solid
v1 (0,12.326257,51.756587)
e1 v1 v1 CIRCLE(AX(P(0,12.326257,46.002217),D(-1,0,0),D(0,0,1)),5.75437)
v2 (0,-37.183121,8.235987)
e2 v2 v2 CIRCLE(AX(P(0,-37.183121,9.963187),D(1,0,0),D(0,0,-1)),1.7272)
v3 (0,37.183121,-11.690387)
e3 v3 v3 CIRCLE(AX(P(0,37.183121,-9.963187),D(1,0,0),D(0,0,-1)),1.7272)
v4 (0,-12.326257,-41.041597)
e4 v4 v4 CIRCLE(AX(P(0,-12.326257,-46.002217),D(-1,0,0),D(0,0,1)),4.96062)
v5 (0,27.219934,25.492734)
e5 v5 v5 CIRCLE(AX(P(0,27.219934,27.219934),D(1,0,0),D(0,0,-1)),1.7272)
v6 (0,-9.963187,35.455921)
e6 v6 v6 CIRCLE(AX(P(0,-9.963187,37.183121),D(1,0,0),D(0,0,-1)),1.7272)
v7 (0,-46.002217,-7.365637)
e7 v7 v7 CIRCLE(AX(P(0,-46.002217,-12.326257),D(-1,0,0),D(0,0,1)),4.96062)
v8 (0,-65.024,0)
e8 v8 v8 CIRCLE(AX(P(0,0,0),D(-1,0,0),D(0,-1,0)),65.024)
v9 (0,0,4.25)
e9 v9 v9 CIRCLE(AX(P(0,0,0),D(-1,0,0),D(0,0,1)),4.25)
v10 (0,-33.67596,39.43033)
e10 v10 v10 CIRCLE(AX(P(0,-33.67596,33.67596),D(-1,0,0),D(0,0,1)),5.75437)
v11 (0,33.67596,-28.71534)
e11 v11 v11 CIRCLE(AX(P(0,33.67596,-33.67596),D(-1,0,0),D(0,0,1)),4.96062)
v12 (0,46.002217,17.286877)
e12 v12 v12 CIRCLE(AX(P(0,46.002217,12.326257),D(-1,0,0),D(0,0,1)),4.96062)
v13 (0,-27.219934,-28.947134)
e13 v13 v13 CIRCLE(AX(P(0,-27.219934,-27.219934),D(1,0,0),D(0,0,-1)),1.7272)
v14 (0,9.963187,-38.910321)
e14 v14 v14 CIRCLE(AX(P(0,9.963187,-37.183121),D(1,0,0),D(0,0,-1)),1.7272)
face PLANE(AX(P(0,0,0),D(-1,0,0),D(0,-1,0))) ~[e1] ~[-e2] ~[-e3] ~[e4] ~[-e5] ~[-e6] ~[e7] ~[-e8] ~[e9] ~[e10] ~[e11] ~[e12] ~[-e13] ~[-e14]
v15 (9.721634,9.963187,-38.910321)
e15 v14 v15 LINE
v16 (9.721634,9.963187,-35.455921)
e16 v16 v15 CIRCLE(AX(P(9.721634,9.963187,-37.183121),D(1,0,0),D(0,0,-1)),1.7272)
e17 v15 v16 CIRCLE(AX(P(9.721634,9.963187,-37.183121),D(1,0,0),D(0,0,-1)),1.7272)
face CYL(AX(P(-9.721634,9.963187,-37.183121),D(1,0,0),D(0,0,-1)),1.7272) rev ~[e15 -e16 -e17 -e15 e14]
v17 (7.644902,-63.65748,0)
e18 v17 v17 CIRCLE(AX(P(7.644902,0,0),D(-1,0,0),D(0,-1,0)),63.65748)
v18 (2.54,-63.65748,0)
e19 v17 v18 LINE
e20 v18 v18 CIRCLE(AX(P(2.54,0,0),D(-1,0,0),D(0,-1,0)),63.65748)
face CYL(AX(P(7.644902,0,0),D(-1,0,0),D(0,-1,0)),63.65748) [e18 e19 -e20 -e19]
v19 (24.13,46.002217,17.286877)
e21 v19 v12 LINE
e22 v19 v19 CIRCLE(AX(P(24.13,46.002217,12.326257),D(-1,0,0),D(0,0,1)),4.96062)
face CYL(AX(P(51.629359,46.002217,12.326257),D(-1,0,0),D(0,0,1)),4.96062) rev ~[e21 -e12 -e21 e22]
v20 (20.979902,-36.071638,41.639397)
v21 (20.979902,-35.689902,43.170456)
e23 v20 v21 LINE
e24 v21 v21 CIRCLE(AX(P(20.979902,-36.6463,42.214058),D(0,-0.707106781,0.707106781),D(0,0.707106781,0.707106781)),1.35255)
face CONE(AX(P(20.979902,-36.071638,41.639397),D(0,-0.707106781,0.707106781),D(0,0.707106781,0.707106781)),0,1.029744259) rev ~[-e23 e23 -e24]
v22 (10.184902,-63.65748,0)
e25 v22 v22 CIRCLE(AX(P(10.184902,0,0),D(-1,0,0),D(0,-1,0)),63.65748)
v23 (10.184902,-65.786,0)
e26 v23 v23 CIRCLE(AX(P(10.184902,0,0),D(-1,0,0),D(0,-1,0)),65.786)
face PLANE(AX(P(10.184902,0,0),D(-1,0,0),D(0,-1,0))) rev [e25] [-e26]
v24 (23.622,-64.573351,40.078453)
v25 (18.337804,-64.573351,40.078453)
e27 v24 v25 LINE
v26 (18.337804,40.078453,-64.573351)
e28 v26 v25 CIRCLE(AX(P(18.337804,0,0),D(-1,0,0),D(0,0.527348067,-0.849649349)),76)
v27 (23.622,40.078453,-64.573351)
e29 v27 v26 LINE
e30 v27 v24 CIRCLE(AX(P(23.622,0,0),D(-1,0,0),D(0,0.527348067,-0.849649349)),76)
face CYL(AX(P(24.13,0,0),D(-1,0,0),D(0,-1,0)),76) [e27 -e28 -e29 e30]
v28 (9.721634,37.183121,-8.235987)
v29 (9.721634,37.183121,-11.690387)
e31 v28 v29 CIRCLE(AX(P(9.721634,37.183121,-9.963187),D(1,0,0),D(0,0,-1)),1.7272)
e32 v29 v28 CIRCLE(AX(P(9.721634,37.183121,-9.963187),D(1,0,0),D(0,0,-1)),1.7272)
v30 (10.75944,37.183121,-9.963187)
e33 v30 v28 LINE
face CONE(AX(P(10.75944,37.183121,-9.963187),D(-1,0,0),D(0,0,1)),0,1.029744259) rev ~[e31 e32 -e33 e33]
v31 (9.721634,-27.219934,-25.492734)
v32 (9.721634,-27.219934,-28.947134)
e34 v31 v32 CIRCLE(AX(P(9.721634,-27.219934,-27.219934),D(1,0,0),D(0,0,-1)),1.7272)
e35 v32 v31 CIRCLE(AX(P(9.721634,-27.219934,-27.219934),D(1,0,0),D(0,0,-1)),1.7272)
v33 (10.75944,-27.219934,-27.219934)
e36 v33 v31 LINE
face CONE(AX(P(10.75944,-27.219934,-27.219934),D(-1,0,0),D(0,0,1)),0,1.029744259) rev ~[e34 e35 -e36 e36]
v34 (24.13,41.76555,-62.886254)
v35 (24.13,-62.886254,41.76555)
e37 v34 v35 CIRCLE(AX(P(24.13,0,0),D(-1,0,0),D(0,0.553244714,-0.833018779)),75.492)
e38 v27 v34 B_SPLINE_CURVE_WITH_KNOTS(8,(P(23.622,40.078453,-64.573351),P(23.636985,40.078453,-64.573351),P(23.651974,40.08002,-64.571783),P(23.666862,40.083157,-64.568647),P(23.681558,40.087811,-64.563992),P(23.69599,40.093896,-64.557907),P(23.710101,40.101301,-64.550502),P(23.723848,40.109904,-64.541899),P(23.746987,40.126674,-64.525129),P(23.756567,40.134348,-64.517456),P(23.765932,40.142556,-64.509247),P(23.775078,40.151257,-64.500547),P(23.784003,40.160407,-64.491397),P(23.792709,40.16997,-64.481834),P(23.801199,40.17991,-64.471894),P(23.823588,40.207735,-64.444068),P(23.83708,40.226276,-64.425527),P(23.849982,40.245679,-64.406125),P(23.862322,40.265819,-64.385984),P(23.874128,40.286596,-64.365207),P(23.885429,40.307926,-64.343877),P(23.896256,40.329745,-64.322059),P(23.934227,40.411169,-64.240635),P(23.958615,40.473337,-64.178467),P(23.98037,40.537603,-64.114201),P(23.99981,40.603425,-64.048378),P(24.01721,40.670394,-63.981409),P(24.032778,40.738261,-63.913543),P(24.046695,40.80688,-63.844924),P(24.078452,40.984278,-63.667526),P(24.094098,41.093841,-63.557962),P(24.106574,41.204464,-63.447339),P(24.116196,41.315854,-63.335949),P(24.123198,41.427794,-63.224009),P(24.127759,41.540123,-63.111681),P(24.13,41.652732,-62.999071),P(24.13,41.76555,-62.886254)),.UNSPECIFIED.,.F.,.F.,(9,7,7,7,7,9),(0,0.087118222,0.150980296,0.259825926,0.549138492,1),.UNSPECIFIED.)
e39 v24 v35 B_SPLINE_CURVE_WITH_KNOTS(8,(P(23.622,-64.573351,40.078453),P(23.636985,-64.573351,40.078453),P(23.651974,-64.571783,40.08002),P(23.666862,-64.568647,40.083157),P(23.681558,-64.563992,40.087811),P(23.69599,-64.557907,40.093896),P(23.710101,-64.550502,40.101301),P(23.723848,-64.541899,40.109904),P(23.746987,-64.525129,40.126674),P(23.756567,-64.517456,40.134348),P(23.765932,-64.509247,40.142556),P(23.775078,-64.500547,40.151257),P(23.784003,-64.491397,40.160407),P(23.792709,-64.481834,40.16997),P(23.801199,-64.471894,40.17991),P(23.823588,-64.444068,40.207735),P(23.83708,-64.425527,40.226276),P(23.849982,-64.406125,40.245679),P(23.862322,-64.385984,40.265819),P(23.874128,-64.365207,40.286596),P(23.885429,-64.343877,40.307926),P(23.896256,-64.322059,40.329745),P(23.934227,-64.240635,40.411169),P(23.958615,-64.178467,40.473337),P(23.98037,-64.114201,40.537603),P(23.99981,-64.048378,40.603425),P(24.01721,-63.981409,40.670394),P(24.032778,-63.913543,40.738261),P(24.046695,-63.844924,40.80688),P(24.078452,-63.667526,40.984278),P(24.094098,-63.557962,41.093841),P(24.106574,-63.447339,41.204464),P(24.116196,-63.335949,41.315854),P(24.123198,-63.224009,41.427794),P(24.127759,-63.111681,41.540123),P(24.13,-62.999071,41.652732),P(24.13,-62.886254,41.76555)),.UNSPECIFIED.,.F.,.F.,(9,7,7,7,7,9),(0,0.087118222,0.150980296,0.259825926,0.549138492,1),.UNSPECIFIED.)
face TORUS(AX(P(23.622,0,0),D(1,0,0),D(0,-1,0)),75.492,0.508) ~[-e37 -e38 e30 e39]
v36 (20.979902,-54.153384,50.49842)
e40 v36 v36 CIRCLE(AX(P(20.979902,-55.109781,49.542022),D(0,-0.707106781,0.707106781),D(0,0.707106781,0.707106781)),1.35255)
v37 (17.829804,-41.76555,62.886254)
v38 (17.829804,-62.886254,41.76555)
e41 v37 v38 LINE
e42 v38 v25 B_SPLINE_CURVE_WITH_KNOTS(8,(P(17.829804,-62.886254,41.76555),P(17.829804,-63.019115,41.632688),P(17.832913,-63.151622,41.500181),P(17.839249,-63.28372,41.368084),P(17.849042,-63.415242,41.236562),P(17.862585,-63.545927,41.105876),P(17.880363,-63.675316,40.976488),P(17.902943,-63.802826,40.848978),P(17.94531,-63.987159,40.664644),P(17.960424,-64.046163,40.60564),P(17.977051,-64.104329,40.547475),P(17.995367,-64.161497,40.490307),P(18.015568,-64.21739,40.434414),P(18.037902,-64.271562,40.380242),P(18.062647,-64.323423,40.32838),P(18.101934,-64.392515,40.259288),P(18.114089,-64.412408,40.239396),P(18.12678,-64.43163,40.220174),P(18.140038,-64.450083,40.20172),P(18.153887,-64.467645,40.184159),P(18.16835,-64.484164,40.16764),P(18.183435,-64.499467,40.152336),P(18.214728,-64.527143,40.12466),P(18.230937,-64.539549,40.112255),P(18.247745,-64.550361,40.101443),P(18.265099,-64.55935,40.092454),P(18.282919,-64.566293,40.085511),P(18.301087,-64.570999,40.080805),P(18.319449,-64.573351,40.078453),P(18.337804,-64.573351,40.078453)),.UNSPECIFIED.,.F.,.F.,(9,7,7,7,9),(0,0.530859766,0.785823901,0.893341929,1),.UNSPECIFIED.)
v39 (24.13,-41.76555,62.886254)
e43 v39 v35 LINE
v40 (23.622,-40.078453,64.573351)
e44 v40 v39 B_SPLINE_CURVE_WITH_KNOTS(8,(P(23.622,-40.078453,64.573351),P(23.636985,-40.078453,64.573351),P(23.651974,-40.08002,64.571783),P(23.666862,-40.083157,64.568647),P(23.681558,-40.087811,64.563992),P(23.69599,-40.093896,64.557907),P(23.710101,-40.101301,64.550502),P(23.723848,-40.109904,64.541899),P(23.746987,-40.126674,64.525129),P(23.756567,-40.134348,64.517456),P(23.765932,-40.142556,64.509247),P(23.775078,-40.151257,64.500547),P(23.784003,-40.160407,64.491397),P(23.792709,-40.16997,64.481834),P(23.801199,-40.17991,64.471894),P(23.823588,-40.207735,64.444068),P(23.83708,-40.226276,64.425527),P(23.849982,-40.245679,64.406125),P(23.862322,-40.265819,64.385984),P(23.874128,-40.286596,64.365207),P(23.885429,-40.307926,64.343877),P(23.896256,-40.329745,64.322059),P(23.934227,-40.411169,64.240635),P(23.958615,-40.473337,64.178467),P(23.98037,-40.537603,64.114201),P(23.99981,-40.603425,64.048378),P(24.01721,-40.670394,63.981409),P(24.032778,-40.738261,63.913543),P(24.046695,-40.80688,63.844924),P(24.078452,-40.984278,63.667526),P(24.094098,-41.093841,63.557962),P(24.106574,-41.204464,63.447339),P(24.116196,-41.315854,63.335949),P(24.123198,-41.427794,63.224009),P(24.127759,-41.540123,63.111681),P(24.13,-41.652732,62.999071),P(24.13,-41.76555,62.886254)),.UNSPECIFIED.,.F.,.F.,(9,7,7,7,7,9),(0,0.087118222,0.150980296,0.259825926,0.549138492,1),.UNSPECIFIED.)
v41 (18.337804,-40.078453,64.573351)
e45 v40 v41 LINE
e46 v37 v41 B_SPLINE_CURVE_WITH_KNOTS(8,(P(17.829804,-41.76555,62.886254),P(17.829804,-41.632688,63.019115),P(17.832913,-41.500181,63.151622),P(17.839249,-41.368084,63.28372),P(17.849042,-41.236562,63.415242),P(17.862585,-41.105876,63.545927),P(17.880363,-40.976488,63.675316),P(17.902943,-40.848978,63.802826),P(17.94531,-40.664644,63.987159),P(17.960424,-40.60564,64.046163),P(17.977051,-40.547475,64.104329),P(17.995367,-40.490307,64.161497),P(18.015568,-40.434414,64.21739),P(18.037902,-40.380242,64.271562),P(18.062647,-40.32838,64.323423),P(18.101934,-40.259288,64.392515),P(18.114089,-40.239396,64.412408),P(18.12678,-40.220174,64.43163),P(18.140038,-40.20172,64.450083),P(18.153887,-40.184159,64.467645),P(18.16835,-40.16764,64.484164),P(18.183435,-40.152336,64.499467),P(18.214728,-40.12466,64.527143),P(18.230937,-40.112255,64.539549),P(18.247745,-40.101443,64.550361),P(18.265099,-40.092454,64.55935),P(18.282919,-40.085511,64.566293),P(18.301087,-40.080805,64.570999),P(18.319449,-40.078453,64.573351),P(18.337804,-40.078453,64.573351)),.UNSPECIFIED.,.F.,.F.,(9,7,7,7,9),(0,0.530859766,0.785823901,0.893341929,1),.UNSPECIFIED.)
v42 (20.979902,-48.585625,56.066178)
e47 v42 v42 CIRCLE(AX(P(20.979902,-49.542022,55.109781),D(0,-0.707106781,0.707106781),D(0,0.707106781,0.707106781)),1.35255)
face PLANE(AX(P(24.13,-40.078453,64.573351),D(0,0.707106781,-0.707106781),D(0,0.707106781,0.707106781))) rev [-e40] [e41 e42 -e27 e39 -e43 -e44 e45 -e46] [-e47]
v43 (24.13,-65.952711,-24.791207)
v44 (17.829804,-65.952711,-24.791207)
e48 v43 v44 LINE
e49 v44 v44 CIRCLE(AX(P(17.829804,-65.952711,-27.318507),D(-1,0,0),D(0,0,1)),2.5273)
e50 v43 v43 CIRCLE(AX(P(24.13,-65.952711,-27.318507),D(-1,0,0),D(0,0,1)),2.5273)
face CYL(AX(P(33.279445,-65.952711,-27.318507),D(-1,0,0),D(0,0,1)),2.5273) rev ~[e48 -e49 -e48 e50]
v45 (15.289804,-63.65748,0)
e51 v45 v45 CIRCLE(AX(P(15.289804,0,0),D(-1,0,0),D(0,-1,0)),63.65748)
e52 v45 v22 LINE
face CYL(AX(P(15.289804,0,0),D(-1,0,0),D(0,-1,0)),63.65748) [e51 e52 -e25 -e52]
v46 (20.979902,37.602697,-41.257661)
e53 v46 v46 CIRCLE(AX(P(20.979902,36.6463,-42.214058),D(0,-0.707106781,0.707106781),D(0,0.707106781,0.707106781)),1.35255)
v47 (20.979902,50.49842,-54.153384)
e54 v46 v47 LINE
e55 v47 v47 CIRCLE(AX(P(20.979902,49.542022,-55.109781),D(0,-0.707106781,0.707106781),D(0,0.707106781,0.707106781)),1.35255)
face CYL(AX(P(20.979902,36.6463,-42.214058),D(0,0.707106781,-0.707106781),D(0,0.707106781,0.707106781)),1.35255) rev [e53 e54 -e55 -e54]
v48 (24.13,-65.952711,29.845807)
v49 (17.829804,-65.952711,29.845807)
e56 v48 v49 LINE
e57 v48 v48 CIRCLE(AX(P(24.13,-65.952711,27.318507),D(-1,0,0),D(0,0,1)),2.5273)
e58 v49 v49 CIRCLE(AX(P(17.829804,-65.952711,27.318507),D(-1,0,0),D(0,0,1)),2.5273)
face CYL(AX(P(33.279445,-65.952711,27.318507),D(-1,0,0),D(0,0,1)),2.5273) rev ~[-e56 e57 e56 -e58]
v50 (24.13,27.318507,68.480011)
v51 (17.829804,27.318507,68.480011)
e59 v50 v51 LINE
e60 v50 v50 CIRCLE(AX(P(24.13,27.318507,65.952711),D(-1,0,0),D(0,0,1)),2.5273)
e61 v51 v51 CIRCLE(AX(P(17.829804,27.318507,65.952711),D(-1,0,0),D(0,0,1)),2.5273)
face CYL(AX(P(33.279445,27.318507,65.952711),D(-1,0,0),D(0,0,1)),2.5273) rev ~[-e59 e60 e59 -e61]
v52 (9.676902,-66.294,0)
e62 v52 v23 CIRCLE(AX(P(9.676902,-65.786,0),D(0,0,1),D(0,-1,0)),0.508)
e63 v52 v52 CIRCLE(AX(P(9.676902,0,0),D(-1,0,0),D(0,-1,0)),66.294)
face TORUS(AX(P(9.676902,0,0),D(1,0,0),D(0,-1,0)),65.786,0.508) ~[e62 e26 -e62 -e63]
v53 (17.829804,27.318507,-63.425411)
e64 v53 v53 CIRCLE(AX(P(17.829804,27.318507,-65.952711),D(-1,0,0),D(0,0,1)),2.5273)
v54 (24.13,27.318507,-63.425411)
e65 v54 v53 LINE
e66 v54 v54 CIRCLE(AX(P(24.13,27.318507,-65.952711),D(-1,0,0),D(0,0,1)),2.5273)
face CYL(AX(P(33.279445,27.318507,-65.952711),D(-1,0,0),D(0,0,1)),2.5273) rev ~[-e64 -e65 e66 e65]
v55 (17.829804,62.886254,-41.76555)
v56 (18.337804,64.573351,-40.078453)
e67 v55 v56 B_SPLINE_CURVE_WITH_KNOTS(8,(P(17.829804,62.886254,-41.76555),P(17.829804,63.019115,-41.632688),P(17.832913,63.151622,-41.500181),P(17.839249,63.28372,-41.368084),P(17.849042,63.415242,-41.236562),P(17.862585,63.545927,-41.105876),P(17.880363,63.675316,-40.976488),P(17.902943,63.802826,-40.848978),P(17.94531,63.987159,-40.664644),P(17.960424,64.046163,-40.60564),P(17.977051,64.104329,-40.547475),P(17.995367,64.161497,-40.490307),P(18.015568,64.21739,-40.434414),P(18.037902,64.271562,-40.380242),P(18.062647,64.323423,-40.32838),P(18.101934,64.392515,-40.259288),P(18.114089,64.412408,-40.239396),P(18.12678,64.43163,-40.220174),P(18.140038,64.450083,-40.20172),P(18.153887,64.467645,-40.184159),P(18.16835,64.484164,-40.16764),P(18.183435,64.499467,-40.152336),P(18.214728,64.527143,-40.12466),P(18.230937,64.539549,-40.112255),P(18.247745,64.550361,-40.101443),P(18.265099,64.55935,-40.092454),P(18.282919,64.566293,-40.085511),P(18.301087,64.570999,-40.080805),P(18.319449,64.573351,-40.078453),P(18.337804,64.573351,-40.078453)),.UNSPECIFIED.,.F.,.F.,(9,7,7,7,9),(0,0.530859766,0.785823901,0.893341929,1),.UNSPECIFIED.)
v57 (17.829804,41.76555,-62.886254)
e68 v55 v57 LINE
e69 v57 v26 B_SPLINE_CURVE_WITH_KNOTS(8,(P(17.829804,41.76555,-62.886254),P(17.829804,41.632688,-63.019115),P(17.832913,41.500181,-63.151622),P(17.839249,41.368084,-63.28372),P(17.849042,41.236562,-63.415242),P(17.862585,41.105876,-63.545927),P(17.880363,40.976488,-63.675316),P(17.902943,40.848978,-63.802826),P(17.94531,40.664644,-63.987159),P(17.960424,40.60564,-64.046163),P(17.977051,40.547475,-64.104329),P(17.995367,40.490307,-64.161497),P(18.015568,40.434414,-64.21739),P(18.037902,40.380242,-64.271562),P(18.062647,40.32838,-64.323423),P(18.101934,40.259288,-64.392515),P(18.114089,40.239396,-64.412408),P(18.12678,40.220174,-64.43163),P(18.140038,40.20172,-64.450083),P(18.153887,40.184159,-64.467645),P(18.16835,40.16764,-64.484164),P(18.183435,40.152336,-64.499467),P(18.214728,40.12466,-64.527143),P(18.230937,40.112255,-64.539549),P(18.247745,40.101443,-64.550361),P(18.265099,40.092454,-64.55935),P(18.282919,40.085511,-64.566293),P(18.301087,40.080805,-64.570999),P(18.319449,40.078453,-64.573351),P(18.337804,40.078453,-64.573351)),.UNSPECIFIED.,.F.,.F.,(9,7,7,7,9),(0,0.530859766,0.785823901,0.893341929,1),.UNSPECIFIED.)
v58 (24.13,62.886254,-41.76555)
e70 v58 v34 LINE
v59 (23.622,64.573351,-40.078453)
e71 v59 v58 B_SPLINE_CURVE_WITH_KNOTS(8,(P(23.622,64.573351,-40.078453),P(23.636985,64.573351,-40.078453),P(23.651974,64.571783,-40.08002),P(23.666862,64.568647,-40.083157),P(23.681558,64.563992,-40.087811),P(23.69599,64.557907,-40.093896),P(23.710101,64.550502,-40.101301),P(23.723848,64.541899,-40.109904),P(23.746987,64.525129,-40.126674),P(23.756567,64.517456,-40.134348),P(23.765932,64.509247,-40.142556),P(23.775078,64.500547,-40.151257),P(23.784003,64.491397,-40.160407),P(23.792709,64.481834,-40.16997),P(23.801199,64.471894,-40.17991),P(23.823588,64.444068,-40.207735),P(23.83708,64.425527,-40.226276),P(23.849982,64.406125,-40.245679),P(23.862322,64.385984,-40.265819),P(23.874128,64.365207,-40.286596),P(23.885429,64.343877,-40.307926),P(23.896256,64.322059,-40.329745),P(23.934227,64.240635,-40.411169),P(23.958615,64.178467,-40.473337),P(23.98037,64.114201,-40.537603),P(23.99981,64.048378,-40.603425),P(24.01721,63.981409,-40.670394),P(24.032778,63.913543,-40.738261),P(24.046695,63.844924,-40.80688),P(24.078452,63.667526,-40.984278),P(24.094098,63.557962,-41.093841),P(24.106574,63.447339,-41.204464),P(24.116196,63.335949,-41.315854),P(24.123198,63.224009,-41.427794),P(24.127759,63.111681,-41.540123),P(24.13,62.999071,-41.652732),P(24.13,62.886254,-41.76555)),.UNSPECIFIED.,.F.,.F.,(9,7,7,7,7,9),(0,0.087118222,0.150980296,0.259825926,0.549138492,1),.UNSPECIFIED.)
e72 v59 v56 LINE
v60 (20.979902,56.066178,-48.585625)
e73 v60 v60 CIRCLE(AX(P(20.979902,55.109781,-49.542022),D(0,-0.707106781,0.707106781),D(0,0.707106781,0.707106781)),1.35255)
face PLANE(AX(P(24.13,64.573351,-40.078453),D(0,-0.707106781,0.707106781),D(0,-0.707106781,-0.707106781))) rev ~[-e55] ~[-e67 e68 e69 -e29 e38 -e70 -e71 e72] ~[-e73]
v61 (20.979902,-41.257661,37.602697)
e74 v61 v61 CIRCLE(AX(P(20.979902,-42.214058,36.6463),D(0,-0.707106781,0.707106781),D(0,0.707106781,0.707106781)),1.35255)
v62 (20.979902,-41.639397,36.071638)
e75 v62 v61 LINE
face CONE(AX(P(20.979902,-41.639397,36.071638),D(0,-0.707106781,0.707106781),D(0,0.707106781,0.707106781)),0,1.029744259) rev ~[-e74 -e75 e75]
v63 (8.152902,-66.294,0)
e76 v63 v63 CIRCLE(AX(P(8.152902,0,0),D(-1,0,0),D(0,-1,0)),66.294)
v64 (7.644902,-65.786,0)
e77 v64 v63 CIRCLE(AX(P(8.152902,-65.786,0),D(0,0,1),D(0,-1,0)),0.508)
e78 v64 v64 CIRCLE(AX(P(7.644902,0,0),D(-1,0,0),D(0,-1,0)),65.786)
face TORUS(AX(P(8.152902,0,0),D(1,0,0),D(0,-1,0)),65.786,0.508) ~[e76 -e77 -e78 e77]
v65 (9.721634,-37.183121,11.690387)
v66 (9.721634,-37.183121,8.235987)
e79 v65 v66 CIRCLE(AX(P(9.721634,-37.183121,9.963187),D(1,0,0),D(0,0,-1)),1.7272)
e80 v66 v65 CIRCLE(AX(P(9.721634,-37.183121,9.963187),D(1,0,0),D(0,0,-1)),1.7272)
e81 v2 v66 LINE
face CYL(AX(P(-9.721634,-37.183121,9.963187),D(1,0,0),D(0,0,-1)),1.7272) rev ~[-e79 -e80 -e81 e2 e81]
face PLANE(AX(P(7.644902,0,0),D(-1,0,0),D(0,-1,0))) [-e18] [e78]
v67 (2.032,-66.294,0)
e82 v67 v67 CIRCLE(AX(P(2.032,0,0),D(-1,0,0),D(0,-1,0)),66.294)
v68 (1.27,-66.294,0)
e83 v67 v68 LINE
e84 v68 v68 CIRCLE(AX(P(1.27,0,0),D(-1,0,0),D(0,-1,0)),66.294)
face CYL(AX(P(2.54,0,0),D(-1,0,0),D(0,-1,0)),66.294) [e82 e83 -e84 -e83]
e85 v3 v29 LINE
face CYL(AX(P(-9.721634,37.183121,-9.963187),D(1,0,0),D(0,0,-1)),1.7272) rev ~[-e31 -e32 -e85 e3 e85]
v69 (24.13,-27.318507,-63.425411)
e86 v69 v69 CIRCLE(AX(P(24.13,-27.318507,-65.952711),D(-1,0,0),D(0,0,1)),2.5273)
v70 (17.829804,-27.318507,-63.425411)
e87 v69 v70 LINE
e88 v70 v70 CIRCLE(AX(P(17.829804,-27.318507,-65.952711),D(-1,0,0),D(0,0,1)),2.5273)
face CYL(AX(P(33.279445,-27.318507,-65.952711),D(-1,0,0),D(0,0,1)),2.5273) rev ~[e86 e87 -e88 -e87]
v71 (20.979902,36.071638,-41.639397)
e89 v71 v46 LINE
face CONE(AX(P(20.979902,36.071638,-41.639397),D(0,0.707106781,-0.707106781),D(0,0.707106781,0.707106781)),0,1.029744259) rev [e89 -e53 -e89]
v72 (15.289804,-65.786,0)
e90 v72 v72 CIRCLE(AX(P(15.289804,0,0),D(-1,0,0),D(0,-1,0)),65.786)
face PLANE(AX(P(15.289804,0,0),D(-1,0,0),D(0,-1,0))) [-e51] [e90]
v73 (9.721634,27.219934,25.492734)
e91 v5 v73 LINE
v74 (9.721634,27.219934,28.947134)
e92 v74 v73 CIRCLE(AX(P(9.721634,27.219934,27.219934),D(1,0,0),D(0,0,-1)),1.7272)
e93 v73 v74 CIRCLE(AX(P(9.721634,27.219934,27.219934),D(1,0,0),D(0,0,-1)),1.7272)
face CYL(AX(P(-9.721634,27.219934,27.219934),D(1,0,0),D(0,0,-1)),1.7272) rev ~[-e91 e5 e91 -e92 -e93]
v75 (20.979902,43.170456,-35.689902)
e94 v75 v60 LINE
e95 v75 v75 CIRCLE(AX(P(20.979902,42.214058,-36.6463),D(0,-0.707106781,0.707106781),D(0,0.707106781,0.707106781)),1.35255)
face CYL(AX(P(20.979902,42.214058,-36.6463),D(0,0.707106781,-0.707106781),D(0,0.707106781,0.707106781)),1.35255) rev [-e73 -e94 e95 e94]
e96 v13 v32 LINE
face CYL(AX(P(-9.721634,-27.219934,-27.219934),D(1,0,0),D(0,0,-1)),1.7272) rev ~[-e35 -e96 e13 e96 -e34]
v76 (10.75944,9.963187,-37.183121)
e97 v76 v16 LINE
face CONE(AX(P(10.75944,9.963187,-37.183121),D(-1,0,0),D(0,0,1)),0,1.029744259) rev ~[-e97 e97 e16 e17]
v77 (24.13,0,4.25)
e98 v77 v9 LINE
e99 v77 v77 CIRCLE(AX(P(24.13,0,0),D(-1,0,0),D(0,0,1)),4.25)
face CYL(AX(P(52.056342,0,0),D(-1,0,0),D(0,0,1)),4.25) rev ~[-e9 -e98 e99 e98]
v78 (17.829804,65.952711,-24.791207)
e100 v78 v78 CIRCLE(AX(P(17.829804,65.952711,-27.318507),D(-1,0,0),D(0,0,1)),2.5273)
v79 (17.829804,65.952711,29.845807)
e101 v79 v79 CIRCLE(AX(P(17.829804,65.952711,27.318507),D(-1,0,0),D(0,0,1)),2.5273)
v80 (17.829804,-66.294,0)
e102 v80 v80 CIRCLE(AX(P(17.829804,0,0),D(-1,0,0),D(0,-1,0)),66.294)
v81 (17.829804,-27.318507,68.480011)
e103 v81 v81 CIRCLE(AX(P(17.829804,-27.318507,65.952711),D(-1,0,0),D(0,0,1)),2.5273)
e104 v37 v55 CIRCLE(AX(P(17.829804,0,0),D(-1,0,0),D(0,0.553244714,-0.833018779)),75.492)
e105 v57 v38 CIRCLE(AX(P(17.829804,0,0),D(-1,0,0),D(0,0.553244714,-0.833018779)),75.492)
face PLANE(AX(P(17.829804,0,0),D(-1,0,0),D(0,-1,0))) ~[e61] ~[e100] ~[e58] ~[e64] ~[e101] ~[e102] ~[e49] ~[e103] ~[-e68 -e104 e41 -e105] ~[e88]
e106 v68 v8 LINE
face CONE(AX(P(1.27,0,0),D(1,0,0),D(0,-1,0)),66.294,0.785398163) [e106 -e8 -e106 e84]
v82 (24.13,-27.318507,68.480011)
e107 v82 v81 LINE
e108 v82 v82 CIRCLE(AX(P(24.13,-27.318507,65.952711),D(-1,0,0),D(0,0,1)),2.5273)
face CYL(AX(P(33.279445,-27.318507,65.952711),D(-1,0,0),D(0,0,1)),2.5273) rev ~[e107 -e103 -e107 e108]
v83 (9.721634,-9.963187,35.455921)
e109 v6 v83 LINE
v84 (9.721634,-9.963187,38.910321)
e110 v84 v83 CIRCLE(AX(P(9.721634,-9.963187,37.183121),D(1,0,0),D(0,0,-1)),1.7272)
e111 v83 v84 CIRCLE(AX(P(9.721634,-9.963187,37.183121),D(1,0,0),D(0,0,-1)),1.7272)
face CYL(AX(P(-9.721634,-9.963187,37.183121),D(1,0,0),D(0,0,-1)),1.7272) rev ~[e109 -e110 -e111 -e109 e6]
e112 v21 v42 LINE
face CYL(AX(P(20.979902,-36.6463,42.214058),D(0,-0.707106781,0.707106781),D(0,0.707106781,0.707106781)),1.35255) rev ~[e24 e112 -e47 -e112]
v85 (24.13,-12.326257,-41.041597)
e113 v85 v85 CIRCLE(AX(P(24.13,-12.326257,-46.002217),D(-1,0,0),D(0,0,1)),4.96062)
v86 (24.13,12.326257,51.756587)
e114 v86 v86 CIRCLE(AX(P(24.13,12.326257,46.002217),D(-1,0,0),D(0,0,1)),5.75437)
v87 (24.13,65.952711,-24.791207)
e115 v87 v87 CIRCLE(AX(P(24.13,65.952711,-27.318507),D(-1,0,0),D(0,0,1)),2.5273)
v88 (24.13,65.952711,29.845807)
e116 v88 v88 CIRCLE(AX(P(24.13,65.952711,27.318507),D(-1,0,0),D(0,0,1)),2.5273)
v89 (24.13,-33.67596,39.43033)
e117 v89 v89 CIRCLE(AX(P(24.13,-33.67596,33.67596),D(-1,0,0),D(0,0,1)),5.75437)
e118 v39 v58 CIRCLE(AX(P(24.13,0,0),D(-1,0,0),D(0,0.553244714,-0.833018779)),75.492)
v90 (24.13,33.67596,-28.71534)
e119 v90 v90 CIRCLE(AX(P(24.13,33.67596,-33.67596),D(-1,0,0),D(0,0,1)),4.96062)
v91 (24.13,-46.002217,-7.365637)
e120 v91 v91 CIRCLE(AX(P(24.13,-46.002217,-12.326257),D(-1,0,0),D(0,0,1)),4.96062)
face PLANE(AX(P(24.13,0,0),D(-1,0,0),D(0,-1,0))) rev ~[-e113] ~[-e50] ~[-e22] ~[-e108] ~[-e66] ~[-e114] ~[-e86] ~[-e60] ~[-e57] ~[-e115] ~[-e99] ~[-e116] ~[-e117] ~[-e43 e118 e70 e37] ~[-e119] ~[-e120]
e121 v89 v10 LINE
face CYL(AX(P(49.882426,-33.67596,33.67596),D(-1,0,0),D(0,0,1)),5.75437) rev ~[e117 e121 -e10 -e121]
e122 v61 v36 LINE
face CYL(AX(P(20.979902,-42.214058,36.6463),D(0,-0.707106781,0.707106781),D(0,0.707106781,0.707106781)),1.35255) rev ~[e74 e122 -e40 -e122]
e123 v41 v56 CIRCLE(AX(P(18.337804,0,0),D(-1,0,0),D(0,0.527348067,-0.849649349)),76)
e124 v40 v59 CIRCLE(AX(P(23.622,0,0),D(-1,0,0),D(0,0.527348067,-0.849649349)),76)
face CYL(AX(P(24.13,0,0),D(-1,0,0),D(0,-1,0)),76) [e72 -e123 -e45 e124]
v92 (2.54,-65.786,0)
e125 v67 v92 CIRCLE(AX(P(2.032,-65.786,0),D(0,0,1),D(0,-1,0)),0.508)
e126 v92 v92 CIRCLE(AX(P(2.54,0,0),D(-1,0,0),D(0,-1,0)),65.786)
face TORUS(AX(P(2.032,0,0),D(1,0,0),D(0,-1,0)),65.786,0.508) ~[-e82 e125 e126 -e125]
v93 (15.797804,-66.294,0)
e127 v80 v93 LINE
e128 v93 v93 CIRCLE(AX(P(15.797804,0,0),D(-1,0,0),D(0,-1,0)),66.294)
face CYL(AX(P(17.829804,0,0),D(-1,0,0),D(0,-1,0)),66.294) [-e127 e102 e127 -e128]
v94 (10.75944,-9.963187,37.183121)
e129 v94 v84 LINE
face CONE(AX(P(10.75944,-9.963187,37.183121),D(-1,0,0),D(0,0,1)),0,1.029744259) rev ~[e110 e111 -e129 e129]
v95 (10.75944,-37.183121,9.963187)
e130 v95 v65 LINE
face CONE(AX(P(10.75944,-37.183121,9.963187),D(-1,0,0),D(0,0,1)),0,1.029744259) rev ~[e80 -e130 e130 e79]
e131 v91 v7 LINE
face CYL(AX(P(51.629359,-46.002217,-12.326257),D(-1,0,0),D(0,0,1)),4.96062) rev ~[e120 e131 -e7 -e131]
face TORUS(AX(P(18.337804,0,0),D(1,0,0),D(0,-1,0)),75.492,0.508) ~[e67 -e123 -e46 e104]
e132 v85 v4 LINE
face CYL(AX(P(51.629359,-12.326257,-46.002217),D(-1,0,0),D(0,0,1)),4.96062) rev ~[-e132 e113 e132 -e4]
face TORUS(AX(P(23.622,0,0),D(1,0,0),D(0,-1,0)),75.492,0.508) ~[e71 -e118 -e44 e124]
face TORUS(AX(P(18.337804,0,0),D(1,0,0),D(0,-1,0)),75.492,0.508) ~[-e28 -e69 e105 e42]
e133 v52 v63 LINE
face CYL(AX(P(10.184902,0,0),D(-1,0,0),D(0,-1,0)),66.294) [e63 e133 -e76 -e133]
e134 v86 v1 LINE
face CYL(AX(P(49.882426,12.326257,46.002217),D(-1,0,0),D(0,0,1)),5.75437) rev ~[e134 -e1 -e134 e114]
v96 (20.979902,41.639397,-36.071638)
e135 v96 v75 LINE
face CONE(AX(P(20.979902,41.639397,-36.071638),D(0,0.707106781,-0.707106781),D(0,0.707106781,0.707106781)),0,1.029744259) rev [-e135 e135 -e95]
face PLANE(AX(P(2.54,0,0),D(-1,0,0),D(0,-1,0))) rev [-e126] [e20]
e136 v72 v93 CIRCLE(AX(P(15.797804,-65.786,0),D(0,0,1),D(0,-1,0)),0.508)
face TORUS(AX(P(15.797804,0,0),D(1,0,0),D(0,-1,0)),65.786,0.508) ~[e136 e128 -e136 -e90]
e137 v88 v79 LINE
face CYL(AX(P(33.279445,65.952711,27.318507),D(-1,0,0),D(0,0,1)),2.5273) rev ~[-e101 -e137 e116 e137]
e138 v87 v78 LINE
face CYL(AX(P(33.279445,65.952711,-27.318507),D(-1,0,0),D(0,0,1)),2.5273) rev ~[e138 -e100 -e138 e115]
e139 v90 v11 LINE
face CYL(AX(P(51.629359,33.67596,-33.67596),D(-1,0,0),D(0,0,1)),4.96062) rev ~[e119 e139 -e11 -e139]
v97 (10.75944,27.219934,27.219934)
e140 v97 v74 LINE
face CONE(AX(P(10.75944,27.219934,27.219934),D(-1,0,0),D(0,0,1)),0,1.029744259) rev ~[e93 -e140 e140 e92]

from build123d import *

# Parameters (mm, degrees)
CHAMFER1_SIZE                  = 1.27
FILLET1_R                      = 0.508
F_8_0_199_DIAMETER_HOLE1_D     = 5.0546
F_8_0_199_DIAMETER_HOLE1_DEPTH = 9.149444958
F_8_0_199_DIAMETER_HOLE1_TIP   = 1.518555042
CUT_EXTRUDE1_DEPTH             = 6.35
F_6_32_TAPPED_HOLE1_AT_2_COUNT = 2
F_6_32_TAPPED_HOLE1_AT_2_PITCH = 7.874
M10X1_5_TAPPED_HOLE1_D         = 8.5
M10X1_5_TAPPED_HOLE1_DEPTH     = 27.926342369
M10X1_5_TAPPED_HOLE1_TIP       = 2.553657631
F_7_16_20_TAPPED_HOLE1_D       = 9.92124
F_7_16_20_TAPPED_HOLE1_DEPTH   = 27.499358796
F_7_16_20_TAPPED_HOLE1_TIP     = 2.980641204
F_1_2_20_TAPPED_HOLE1_D        = 11.50874
F_1_2_20_TAPPED_HOLE1_DEPTH    = 25.75242568
F_1_2_20_TAPPED_HOLE1_TIP      = 3.45757432
F_8_32_TAPPED_HOLE1_D          = 3.4544
F_8_32_TAPPED_HOLE1_DEPTH      = 9.721633539
F_8_32_TAPPED_HOLE1_TIP        = 1.037806461


with BuildPart() as part:
    # Sketch1 → Revolve1 (revolve)
    with BuildSketch(Plane.XY):
        Polygon((24.13, -58.42), (24.13, -76), (17.829803922, -76), (17.829803922, -66.421), (17.829803922, -66.294), (15.289803922, -66.294), (15.289803922, -63.65748), (10.184901961, -63.65748), (10.184901961, -66.294), (7.644901961, -66.294), (7.644901961, -63.65748), (2.54, -63.65748), (2.54, -66.294), (0, -66.294), (0, -58.42), (0, 0), (11.43, 0), (24.13, 0), align=None)
    revolve(axis=Axis((24.13, 0, 0), (-1, 0, 0)))

    # Chamfer1
    chamfer1_edges = [part.edges().sort_by_distance(p)[0] for p in [
        (0, 66.294, 0),
    ]]
    chamfer(chamfer1_edges, length=CHAMFER1_SIZE)

    # Fillet1
    fillet1_edges = [part.edges().sort_by_distance(p)[0] for p in [
        (24.13, 76, 0),
        (17.829803922, 76, 0),
        (15.289803922, 66.294, 0),
        (10.184901961, 66.294, 0),
        (7.644901961, 66.294, 0),
        (2.54, 66.294, 0),
    ]]
    fillet(fillet1_edges, radius=FILLET1_R)

    # #8 (0.199) Diameter Hole1
    with Locations(Plane(origin=(24.13, 0, 0), x_dir=(0, 0, -1), z_dir=(1, 0, 0))):
        with Locations((-65.952711024, 27.318507381), (-27.318507381, 65.952711024), (27.318507381, 65.952711024), (65.952711024, 27.318507381), (65.952711024, -27.318507381), (27.318507381, -65.952711024), (-27.318507381, -65.952711024), (-65.952711024, -27.318507381)):
            Hole(F_8_0_199_DIAMETER_HOLE1_D / 2, depth=F_8_0_199_DIAMETER_HOLE1_DEPTH)
            with Locations((0, 0, -(F_8_0_199_DIAMETER_HOLE1_DEPTH + F_8_0_199_DIAMETER_HOLE1_TIP / 2))):  # 118° drill point
                Cone(0, F_8_0_199_DIAMETER_HOLE1_D / 2, F_8_0_199_DIAMETER_HOLE1_TIP, mode=Mode.SUBTRACT)

    # Sketch6 → Cut-Extrude1 (cut)
    with BuildSketch(Plane(origin=(24.13, 0, 0), x_dir=(0, 0, -1), z_dir=(1, 0, 0))):
        with BuildLine():
            Line((40.078453094, 64.573350522), (64.573350522, 40.078453094))
            ThreePointArc((64.573350522, 40.078453094), (53.74011537, 53.74011537), (40.078453094, 64.573350522))
        make_face()
    cut_extrude1 = extrude(amount=-CUT_EXTRUDE1_DEPTH, mode=Mode.SUBTRACT)

    # Sketch9 → #6-32 Tapped Hole1 (revolve, cut)
    with BuildSketch(Plane(origin=(20.979901961, 49.54202241, -55.109781205), x_dir=(0, 0.707106781, 0.707106781), z_dir=(1, 0, 0))):
        Polygon((0, 0), (0, 19.05), (1.35255, 18.23730597), (1.35255, 0), align=None)
    f_6_32_tapped_hole1 = revolve(axis=Axis((20.979901961, 54.032150471, -59.599909266), (0, -0.707106781, 0.707106781)), mode=Mode.SUBTRACT)

    # #6-32 Tapped Hole1 at 2: #6-32 Tapped Hole1 ×2
    with Locations(*[Vector(0, 0.707106781, 0.707106781) * (i * F_6_32_TAPPED_HOLE1_AT_2_PITCH) for i in range(1, F_6_32_TAPPED_HOLE1_AT_2_COUNT)]):
        add(f_6_32_tapped_hole1, mode=Mode.SUBTRACT)

    # Mirror1: #6-32 Tapped Hole1, Cut-Extrude1 across plane
    add(f_6_32_tapped_hole1.mirror(Plane(origin=(0, 0, 0), x_dir=(0, 0.707106781, 0.707106781), z_dir=(0, -0.707106781, 0.707106781))), mode=Mode.SUBTRACT)
    add(cut_extrude1.mirror(Plane(origin=(0, 0, 0), x_dir=(0, 0.707106781, 0.707106781), z_dir=(0, -0.707106781, 0.707106781))), mode=Mode.SUBTRACT)

    # Mirror1 copy 1 sketch → Mirror1 copy 1 (revolve, cut)
    with BuildSketch(Plane(origin=(20.979901961, -49.54202241, 55.109781205), x_dir=(0, 0.707106781, 0.707106781), z_dir=(1, 0, 0))):
        Polygon((0, 0), (0, -19.05), (1.35255, -18.23730597), (1.35255, 0), align=None)
    revolve(axis=Axis((20.979901961, -54.032150471, 59.599909266), (0, -0.707106781, 0.707106781)), mode=Mode.SUBTRACT)

    # M10x1.5 Tapped Hole1
    with Locations(Plane(origin=(24.13, 0, 0), x_dir=(0, 0, -1), z_dir=(1, 0, 0))):
        with Locations((0, 0)):
            Hole(M10X1_5_TAPPED_HOLE1_D / 2, depth=M10X1_5_TAPPED_HOLE1_DEPTH)
            with Locations((0, 0, -(M10X1_5_TAPPED_HOLE1_DEPTH + M10X1_5_TAPPED_HOLE1_TIP / 2))):  # 118° drill point
                Cone(0, M10X1_5_TAPPED_HOLE1_D / 2, M10X1_5_TAPPED_HOLE1_TIP, mode=Mode.SUBTRACT)

    # 7/16-20 Tapped Hole1
    with Locations(Plane(origin=(24.13, 0, 0), x_dir=(0, 0, -1), z_dir=(1, 0, 0))):
        with Locations((12.326257023, -46.002217477), (-12.326257023, 46.002217477), (33.675960454, 33.675960454), (46.002217477, -12.326257023)):
            Hole(F_7_16_20_TAPPED_HOLE1_D / 2, depth=F_7_16_20_TAPPED_HOLE1_DEPTH)
            with Locations((0, 0, -(F_7_16_20_TAPPED_HOLE1_DEPTH + F_7_16_20_TAPPED_HOLE1_TIP / 2))):  # 118° drill point
                Cone(0, F_7_16_20_TAPPED_HOLE1_D / 2, F_7_16_20_TAPPED_HOLE1_TIP, mode=Mode.SUBTRACT)

    # 1/2-20 Tapped Hole1
    with Locations(Plane(origin=(24.13, 0, 0), x_dir=(0, 0, -1), z_dir=(1, 0, 0))):
        with Locations((-46.002217477, 12.326257023), (-33.675960454, -33.675960454)):
            Hole(F_1_2_20_TAPPED_HOLE1_D / 2, depth=F_1_2_20_TAPPED_HOLE1_DEPTH)
            with Locations((0, 0, -(F_1_2_20_TAPPED_HOLE1_DEPTH + F_1_2_20_TAPPED_HOLE1_TIP / 2))):  # 118° drill point
                Cone(0, F_1_2_20_TAPPED_HOLE1_D / 2, F_1_2_20_TAPPED_HOLE1_TIP, mode=Mode.SUBTRACT)

    # #8-32 Tapped Hole1
    with Locations(Plane.ZY):
        with Locations((-9.963187377, 37.183121498), (27.21993412, 27.21993412), (37.183121498, -9.963187377), (9.963187377, -37.183121498), (-27.21993412, -27.21993412), (-37.183121498, 9.963187377)):
            Hole(F_8_32_TAPPED_HOLE1_D / 2, depth=F_8_32_TAPPED_HOLE1_DEPTH)
            with Locations((0, 0, -(F_8_32_TAPPED_HOLE1_DEPTH + F_8_32_TAPPED_HOLE1_TIP / 2))):  # 118° drill point
                Cone(0, F_8_32_TAPPED_HOLE1_D / 2, F_8_32_TAPPED_HOLE1_TIP, mode=Mode.SUBTRACT)


solid = part.part
